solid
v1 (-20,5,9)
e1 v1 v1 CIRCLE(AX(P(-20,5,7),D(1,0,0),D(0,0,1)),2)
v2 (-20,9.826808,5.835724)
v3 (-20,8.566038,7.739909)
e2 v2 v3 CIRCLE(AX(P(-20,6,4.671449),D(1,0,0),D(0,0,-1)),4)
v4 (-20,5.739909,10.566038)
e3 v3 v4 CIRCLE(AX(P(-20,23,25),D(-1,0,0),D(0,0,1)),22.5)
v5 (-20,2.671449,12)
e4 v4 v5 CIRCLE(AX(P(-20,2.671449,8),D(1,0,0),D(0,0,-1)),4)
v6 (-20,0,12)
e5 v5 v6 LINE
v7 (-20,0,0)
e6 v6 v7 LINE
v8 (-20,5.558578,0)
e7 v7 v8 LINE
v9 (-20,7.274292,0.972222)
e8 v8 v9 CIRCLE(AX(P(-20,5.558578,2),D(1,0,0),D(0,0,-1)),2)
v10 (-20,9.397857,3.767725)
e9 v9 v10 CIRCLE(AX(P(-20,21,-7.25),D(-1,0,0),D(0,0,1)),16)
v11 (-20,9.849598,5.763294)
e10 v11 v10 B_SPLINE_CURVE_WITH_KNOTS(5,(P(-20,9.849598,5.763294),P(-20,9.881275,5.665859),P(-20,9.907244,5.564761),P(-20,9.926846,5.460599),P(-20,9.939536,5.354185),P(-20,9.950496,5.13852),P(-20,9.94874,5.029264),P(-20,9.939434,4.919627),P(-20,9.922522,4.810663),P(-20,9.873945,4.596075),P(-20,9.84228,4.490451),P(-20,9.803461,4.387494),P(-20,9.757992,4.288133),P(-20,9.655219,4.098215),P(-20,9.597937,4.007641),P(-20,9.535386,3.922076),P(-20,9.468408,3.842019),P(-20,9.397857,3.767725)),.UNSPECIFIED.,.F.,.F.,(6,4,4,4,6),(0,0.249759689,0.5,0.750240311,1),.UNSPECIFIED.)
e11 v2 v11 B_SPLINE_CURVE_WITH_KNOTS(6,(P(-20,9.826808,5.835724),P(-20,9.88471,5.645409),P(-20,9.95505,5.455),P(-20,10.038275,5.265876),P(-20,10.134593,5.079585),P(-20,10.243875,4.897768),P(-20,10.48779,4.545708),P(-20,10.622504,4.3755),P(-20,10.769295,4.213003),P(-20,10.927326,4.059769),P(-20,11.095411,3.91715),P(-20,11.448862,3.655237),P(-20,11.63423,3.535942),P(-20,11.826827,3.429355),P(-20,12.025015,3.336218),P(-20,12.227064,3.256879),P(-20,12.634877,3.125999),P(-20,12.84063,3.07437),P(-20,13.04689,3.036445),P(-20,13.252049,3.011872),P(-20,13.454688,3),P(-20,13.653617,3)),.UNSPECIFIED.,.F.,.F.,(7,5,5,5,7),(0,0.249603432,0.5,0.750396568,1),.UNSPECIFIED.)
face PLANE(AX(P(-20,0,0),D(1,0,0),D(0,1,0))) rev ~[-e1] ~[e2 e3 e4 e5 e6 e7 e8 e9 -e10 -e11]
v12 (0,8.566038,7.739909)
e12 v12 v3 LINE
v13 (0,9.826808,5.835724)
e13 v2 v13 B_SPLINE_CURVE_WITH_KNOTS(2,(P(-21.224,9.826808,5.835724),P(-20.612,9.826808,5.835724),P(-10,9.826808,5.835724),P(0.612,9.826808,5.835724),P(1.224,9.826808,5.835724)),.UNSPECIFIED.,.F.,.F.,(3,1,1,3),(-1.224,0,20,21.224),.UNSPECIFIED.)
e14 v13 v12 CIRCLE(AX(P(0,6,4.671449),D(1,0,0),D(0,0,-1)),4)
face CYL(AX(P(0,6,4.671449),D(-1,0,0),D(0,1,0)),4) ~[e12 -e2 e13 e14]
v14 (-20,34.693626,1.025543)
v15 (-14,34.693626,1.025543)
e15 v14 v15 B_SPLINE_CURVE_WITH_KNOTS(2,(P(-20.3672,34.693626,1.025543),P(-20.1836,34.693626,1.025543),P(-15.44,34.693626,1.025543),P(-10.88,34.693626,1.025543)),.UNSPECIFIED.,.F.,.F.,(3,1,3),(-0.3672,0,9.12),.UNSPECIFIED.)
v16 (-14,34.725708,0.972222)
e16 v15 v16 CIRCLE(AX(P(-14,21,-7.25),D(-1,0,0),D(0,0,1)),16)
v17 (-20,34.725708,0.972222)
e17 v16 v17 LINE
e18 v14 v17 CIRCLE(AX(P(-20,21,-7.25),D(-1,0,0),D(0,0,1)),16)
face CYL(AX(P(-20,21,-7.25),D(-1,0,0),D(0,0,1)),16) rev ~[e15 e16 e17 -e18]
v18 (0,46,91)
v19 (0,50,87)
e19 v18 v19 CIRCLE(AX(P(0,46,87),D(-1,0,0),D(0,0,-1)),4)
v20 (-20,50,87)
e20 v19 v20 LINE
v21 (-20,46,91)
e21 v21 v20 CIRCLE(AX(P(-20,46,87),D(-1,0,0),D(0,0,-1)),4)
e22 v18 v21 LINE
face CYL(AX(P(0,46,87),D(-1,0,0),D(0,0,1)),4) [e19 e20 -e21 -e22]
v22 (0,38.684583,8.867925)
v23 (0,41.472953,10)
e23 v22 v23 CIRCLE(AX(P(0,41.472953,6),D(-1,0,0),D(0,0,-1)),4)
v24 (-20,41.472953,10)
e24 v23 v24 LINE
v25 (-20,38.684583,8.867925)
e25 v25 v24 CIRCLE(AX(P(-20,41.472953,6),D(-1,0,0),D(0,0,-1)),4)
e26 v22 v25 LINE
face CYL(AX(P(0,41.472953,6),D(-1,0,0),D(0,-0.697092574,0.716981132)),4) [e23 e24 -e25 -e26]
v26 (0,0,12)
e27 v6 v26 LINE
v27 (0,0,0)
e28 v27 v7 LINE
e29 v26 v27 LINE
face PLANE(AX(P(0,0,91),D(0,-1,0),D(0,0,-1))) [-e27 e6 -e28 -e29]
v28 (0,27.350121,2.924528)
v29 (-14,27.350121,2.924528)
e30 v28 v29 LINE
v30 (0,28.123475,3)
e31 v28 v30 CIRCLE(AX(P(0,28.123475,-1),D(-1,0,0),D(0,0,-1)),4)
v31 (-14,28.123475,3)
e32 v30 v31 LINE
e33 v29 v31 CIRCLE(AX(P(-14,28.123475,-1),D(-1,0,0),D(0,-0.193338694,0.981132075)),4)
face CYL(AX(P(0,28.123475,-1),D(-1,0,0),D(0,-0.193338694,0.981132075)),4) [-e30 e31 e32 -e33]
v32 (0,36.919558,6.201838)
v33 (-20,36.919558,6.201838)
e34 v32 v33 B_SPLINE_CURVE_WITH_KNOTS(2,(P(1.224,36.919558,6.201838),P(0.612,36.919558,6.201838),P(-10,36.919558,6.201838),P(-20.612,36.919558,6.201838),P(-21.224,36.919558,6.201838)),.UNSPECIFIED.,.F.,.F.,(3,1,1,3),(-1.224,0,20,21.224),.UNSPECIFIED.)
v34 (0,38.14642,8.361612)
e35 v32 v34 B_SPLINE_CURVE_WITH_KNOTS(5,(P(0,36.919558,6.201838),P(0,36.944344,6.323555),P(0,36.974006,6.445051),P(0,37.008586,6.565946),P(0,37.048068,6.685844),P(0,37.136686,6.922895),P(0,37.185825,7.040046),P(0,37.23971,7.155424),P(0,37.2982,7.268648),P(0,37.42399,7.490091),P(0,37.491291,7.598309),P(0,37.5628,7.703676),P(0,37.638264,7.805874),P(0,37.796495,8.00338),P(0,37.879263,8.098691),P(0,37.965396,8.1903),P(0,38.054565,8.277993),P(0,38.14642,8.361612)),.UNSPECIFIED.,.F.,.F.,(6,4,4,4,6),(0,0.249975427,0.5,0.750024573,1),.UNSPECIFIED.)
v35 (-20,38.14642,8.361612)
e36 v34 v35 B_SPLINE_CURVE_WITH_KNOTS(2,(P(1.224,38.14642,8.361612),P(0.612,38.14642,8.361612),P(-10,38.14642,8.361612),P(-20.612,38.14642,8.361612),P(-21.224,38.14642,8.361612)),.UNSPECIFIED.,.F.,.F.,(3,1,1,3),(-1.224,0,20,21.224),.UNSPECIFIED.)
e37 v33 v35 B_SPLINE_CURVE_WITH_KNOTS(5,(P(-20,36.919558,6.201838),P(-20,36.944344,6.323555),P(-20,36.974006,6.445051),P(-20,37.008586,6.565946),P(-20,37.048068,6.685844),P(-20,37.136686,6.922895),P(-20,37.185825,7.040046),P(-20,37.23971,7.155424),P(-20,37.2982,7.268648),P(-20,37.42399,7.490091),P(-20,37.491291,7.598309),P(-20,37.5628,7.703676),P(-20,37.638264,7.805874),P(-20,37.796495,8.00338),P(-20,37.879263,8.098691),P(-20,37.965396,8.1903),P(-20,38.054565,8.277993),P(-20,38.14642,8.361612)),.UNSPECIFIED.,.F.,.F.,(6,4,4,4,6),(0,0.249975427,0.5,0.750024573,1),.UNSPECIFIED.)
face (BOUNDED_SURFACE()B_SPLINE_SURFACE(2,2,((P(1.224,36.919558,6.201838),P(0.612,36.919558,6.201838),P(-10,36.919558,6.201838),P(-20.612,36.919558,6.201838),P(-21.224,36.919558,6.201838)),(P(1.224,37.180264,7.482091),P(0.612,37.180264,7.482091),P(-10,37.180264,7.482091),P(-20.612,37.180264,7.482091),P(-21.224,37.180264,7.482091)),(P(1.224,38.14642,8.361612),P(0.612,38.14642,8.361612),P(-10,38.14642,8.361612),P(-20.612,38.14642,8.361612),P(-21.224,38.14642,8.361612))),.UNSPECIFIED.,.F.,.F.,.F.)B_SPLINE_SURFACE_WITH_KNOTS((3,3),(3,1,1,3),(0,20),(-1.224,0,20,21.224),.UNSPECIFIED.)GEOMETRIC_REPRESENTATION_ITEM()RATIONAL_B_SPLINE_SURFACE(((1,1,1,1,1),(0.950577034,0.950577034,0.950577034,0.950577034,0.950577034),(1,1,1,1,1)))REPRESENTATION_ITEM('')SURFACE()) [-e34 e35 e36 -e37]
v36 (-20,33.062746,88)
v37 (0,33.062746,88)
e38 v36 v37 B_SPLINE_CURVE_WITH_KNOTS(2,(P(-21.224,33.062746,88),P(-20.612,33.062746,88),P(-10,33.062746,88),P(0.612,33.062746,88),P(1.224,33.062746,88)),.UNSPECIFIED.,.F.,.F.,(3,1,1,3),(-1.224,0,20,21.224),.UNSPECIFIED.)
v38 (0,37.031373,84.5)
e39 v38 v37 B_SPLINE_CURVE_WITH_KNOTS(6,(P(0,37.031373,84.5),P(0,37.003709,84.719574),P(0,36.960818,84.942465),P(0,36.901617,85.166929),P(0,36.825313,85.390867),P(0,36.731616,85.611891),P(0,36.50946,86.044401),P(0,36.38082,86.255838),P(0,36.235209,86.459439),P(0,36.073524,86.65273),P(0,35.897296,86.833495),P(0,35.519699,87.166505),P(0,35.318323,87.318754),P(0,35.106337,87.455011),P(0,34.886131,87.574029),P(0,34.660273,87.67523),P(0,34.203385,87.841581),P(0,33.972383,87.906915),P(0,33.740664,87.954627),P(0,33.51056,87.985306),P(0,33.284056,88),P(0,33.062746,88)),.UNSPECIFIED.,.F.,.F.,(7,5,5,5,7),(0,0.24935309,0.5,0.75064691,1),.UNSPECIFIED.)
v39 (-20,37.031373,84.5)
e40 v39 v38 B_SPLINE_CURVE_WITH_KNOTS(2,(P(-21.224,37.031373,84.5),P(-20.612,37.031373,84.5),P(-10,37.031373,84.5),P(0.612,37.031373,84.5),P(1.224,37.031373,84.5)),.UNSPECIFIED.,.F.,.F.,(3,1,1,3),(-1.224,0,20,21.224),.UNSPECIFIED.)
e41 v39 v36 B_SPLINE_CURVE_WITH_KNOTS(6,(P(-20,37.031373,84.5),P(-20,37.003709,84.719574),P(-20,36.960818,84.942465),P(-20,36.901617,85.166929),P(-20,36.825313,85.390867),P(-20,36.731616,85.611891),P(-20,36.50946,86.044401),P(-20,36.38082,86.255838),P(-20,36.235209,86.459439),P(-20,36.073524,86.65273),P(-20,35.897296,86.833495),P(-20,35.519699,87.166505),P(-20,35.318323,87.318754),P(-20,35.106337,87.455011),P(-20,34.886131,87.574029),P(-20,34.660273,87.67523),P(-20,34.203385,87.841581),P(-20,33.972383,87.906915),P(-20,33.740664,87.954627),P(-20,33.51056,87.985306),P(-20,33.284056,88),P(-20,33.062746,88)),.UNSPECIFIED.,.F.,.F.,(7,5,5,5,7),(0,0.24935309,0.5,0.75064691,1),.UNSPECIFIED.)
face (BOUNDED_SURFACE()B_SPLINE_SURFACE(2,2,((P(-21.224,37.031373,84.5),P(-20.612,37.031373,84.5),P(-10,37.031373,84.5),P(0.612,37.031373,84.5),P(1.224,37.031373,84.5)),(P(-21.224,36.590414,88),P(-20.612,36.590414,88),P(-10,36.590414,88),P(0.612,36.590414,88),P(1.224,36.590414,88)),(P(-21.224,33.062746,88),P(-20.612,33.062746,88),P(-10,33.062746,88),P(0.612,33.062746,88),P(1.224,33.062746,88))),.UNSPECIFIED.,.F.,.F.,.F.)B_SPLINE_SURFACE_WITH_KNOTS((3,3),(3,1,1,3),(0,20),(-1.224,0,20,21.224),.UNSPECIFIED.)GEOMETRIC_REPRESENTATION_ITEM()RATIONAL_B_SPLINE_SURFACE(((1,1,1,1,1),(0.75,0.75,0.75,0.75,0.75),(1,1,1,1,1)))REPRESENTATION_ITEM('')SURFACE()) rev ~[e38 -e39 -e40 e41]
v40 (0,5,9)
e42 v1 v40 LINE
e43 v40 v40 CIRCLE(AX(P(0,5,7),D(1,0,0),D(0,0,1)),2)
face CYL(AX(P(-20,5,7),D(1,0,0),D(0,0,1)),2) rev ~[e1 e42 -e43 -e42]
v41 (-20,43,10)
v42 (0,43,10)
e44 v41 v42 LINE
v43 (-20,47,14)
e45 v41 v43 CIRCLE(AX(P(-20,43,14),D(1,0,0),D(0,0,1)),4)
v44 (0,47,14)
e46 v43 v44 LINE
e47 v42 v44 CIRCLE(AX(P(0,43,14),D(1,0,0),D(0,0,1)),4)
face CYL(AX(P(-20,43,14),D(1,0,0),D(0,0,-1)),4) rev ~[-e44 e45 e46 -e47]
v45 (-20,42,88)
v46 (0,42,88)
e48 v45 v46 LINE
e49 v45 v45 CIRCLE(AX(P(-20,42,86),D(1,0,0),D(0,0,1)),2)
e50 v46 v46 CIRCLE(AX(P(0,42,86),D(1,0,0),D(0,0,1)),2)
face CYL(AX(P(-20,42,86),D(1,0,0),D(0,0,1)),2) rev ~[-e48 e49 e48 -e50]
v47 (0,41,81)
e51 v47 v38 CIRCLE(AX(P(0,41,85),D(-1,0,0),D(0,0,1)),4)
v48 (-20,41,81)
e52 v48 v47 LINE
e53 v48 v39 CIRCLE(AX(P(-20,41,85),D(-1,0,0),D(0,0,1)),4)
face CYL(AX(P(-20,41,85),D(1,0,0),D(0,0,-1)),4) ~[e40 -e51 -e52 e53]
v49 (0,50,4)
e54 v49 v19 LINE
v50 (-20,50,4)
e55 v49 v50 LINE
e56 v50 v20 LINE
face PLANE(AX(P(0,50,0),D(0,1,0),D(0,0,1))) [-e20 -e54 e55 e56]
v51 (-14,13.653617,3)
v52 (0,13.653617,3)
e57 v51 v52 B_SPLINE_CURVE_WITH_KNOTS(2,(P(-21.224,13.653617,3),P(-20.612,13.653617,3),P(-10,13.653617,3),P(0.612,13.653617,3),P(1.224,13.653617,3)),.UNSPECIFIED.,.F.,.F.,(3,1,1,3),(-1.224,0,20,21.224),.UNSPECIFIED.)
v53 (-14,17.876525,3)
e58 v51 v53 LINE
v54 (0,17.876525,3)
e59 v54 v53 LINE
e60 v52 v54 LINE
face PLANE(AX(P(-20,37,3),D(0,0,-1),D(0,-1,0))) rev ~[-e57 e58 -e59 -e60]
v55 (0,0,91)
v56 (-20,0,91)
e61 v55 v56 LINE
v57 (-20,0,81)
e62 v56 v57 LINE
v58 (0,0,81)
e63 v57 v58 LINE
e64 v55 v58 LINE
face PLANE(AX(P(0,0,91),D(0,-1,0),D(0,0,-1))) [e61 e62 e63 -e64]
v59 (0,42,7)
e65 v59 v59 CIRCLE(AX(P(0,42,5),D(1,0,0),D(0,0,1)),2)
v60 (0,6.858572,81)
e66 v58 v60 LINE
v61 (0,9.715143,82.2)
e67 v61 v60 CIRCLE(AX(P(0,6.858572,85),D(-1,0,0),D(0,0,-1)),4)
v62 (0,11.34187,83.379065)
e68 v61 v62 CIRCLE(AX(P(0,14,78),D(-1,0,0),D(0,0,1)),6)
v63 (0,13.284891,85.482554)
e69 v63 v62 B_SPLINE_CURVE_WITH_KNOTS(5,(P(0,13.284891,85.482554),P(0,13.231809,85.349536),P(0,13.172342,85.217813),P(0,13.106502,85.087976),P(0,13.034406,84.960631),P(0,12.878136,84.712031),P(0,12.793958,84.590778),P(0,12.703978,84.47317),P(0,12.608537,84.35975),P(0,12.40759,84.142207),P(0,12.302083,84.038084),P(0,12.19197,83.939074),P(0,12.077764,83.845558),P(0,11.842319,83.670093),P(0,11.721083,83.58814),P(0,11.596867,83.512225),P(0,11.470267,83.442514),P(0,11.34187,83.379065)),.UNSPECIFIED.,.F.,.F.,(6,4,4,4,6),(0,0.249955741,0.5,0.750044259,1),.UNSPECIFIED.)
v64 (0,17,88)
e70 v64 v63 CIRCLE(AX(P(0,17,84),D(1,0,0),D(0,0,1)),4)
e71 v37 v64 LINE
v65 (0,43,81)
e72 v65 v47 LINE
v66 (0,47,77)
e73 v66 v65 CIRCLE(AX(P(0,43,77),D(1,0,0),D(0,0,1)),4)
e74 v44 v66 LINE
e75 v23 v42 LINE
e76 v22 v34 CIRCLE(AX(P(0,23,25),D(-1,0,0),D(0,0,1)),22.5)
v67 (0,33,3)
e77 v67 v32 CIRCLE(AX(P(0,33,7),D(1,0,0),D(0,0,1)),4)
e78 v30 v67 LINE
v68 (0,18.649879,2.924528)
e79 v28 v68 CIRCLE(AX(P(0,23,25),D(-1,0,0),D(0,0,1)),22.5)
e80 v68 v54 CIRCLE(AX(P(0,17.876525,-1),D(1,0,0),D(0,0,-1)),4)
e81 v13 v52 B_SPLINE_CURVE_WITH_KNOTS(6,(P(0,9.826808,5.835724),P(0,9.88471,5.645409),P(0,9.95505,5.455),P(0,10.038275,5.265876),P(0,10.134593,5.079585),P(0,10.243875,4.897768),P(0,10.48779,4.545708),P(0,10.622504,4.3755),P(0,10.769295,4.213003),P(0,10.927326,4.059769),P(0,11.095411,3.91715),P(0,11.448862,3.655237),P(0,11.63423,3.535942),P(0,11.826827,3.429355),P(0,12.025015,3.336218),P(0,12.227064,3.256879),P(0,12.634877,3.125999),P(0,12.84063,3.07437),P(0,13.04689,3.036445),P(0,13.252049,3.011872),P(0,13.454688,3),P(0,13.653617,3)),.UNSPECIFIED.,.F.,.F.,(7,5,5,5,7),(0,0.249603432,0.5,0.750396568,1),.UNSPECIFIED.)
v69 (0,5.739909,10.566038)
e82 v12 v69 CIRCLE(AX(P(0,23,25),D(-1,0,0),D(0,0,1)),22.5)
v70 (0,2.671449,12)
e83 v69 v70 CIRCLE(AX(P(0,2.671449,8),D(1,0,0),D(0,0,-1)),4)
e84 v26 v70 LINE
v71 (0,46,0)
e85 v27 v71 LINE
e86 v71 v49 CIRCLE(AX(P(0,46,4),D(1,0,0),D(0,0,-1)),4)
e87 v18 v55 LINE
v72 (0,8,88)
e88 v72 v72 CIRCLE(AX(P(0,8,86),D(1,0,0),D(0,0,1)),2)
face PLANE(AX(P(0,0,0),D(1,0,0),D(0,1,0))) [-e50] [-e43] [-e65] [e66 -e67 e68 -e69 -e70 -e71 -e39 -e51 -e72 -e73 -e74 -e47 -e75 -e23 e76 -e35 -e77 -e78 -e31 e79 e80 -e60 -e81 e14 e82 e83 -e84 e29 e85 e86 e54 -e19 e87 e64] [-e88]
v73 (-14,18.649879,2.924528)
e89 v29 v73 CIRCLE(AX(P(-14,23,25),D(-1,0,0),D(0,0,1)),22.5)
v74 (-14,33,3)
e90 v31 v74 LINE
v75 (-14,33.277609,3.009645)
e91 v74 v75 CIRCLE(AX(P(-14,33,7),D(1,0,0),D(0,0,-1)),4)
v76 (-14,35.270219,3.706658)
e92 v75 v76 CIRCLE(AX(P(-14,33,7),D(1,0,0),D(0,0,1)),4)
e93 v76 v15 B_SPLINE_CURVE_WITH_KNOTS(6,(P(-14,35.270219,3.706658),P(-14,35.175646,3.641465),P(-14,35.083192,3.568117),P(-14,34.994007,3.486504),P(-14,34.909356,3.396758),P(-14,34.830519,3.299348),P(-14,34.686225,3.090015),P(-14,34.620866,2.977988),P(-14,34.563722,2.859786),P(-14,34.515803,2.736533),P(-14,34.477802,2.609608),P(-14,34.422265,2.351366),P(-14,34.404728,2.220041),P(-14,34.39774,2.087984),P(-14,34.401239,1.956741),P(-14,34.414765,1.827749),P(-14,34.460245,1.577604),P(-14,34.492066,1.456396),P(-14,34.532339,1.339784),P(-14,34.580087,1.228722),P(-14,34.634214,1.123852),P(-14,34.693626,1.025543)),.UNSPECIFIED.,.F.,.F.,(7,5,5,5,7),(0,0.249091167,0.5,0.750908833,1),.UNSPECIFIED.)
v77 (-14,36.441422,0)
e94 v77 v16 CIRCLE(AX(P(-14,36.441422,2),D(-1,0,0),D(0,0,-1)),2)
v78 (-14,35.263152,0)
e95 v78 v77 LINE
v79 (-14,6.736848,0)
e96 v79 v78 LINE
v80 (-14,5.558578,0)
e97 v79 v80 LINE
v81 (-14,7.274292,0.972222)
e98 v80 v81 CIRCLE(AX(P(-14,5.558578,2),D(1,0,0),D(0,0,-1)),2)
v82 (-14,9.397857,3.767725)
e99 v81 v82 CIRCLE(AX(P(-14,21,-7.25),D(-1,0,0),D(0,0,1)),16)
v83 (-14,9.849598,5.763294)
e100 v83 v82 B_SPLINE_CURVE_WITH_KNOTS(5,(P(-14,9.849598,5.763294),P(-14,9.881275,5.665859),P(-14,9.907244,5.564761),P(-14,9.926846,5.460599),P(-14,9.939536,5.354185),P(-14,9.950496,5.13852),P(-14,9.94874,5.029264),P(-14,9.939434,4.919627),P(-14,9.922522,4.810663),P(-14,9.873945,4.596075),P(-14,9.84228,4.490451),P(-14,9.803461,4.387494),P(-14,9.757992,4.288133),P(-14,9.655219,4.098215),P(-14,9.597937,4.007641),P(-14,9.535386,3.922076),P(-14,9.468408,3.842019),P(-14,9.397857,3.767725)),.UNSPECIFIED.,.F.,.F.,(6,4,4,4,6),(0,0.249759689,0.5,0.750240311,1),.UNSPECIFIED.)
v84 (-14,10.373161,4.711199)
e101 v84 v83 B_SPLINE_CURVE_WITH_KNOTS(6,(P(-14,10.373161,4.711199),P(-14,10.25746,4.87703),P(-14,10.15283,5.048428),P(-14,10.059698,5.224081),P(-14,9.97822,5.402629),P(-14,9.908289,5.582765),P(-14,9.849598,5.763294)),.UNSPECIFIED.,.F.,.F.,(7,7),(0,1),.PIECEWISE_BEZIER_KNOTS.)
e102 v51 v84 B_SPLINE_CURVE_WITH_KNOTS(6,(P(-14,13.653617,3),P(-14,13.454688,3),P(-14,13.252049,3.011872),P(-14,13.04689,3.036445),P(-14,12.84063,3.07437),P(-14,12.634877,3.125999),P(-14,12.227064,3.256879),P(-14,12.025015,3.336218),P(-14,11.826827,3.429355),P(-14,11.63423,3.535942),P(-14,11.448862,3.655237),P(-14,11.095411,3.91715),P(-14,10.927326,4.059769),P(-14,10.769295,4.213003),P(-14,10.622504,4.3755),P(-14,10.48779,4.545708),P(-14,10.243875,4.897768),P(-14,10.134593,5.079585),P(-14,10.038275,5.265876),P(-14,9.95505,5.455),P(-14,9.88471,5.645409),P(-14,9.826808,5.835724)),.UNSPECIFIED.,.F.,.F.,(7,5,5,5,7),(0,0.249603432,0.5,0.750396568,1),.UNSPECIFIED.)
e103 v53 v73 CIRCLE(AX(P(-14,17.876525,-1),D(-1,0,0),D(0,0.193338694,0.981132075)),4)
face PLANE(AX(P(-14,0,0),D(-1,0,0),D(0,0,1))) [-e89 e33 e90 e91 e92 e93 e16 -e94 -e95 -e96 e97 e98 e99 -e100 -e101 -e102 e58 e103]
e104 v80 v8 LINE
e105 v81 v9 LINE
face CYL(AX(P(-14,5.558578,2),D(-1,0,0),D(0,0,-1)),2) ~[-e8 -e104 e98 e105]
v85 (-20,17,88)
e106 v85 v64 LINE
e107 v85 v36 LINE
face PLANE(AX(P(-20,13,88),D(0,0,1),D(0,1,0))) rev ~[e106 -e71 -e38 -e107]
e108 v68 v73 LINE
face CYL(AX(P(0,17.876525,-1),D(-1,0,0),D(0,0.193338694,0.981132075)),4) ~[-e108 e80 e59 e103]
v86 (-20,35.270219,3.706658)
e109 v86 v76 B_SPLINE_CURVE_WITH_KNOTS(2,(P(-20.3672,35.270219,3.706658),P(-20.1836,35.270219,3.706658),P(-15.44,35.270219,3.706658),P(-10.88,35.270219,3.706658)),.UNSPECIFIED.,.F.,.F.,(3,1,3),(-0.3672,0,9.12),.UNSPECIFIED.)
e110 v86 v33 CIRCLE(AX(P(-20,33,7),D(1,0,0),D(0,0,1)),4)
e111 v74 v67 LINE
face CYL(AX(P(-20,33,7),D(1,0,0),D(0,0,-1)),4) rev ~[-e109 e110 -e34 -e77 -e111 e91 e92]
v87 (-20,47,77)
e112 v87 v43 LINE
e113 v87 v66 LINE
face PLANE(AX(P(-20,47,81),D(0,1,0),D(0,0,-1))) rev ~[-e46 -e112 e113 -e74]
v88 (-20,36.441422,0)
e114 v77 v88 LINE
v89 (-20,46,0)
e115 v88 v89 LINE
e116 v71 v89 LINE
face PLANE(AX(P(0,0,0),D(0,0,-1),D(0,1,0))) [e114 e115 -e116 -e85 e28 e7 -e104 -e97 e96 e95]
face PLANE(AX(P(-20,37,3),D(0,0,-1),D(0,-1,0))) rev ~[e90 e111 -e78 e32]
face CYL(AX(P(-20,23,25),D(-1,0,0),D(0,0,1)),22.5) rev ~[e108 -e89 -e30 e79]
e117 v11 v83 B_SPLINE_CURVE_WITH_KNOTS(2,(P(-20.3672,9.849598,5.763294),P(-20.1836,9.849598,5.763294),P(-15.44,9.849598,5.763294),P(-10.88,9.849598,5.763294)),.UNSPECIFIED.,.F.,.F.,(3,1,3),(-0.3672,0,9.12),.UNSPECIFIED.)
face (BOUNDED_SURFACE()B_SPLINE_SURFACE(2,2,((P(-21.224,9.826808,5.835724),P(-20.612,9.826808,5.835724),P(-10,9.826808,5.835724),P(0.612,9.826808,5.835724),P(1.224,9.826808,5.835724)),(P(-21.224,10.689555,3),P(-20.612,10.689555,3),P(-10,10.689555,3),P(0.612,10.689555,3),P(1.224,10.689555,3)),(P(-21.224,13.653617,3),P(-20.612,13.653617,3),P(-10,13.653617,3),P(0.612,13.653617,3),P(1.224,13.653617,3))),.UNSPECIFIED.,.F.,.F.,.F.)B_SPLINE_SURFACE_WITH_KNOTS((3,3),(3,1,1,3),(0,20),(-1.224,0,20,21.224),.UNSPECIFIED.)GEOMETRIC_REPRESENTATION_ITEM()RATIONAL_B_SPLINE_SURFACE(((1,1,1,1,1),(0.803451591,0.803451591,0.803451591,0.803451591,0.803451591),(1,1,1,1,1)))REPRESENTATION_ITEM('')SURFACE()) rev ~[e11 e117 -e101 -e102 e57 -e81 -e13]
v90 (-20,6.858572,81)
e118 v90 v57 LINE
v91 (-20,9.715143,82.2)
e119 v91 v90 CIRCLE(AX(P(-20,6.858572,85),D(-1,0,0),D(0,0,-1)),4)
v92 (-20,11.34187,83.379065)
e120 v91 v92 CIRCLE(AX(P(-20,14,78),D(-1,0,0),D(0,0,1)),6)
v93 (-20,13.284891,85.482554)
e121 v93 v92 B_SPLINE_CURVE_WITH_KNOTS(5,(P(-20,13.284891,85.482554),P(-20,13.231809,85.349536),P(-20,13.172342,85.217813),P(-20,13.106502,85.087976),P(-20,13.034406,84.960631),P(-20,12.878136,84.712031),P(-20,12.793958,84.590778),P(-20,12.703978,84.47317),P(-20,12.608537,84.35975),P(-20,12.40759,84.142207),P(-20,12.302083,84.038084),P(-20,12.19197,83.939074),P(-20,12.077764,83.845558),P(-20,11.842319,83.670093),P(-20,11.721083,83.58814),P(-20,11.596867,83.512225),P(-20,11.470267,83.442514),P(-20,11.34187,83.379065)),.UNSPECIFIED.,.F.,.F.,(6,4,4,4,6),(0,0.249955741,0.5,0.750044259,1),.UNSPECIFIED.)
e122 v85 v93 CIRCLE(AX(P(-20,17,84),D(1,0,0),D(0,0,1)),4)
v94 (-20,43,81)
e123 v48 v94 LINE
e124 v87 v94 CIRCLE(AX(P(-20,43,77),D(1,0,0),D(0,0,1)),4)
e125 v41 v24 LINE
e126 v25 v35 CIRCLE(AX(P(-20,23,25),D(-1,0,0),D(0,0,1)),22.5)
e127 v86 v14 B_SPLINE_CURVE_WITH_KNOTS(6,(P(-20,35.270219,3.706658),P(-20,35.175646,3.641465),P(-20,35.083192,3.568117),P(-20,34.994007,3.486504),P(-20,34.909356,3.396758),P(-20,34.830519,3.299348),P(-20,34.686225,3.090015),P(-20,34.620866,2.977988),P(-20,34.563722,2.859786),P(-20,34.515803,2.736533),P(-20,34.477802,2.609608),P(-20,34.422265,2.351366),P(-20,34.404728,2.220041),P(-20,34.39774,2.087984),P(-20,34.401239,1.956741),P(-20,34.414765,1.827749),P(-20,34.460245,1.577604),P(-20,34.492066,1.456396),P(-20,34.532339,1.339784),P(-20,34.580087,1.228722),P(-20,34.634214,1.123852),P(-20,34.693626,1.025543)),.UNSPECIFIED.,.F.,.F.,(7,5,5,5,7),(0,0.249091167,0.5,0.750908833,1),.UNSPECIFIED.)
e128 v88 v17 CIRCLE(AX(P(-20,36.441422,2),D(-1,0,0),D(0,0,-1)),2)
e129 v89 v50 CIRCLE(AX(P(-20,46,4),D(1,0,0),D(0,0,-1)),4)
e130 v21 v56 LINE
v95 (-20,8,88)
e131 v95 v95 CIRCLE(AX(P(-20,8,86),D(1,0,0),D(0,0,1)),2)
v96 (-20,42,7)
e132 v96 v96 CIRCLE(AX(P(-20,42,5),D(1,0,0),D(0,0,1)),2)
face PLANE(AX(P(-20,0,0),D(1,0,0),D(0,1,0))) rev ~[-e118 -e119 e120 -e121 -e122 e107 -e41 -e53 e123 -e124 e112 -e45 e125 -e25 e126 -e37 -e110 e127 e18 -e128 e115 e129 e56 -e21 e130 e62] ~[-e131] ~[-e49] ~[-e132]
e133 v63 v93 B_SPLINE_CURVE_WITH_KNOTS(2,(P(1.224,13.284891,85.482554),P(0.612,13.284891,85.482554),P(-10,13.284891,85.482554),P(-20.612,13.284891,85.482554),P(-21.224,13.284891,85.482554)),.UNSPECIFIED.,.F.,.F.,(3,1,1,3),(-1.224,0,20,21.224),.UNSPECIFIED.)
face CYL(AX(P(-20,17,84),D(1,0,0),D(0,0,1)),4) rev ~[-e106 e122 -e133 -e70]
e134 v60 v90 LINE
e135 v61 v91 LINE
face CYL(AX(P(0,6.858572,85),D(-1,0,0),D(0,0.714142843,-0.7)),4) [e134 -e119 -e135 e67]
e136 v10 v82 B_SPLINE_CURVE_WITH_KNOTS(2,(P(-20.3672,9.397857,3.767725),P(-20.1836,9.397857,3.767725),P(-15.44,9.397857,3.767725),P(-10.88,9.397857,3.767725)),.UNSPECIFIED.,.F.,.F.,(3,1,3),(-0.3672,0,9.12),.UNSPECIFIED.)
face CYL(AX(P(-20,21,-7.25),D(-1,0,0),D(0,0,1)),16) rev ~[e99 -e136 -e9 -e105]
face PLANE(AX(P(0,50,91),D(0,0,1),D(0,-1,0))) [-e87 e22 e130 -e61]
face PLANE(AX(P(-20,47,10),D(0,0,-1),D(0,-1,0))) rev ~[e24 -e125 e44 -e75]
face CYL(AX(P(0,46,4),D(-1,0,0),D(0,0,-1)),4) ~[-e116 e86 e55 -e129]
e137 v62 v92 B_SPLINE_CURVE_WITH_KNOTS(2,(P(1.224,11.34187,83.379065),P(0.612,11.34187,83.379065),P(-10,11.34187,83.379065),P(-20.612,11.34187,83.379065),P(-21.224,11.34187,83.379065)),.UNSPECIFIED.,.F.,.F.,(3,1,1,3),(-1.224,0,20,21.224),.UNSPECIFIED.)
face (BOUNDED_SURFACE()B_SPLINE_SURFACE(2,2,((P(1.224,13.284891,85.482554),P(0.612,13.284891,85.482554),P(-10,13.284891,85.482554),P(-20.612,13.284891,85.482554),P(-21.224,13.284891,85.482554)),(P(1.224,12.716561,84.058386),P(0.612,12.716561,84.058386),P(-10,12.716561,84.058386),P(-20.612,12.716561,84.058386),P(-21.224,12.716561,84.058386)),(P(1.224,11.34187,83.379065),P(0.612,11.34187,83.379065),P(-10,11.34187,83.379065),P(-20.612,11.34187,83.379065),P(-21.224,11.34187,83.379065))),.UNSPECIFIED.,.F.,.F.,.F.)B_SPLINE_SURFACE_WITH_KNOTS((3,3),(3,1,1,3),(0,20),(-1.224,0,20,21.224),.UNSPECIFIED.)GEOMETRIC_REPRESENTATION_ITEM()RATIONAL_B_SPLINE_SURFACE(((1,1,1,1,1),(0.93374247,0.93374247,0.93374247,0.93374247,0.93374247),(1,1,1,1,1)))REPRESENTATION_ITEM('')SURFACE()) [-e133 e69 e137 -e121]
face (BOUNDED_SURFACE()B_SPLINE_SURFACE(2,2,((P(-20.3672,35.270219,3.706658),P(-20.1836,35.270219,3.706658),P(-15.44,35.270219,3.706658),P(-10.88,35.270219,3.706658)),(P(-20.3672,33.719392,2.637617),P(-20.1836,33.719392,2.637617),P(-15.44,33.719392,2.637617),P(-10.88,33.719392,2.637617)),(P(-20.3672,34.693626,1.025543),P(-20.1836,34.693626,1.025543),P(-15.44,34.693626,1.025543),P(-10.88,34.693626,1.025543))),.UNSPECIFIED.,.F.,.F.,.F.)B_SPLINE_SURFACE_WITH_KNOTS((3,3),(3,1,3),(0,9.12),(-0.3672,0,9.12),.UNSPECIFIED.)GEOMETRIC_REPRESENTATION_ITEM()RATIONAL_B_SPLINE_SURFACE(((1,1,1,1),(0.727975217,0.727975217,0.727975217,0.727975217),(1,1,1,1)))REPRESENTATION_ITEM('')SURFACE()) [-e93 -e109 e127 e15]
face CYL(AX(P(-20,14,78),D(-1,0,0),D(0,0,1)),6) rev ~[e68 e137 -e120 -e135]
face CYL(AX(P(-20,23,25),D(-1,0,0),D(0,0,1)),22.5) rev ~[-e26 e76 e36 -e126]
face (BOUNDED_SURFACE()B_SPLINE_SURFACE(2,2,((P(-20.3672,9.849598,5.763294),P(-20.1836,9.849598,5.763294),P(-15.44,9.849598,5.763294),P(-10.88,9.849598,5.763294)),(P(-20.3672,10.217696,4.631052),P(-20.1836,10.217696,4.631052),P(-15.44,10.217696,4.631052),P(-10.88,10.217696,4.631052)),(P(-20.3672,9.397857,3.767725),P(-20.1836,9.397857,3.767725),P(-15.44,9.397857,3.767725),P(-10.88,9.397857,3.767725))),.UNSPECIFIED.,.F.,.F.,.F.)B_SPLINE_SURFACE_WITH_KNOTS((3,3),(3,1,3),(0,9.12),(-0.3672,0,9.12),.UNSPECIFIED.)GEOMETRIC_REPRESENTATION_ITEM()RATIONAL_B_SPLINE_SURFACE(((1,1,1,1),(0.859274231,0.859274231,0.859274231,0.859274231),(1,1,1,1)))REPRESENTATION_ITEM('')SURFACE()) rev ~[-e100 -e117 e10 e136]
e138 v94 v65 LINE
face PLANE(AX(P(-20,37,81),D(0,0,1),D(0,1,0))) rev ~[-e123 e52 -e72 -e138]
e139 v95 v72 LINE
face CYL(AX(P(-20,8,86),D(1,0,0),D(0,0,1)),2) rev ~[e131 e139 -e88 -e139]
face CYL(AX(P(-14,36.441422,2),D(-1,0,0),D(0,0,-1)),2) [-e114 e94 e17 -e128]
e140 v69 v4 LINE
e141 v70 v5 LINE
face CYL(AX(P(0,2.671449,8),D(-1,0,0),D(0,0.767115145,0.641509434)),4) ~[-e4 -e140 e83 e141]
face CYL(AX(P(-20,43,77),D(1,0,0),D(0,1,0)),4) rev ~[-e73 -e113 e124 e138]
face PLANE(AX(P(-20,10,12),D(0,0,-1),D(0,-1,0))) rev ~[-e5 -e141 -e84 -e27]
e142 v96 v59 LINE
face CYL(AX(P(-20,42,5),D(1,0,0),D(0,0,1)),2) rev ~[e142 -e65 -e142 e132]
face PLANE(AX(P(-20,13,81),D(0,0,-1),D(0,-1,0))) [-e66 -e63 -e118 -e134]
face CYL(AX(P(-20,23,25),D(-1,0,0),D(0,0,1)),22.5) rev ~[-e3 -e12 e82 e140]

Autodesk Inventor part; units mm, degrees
ref_plane "YZ Plane" through (0, 0, 0) normal (1, 0, 0) x (0, 1, 0)
ref_plane "XZ Plane" through (0, 0, 0) normal (0, 1, 0) x (-1, 0, 0)
ref_plane "XY Plane" through (0, 0, 0) normal (0, 0, 1) x (1, 0, 0)
sketch "Sketch2" plane through (0, 0, 0) normal (1, 0, 0) x (0, 1, 0)
  line L0 (0, 0) -> (50, 0)
  line L1 (50, 0) -> (50, 91)
  line L2 (50, 91) -> (0, 91)
  line L3 (0, 91) -> (0, 0)
  dimension "d39" = 50
  dimension "d40" = 91
extrude "Extrusion2" add sketch "Sketch2" against normal blind 20
sketch "Sketch3" plane through (-20, 0, 0) normal (-1, 0, 0) x (0, 0, 1)
  line L0 (0, 0) -> (91, 0) projected
  line L1 (0, 50) -> (0, 0) projected
  point P0 (7, 5)
  point P1 (5, 42)
  point P2 (86, 42)
  point P3 (86, 8)
  dimension "d43" = 8
  dimension "d44" = 86
  dimension "d45" = 42
  dimension "d46" = 5
  dimension "d47" = 7
  dimension "d48" = 5
hole "Hole1" at (-20, 5, 7) at (-20, 42, 5) at (-20, 42, 86) at (-20, 8, 86) direction (1, 0, 0) diameter 4 end through all
fillet "Fillet8" radius 4 2 edges at (-10, 50, 0) (-10, 50, 91)
sketch "Sketch4" plane through (-20, 0, 0) normal (-1, 0, 0) x (0, 0, 1)
  line L0 (91, 0) -> (0, 0) projected
  line L1 (12, 0) -> (81, 0)
  line L2 (81, 13) -> (81, 0)
  line L3 (81, 13) -> (88, 13)
  line L4 (88, 13) -> (88, 37)
  line L5 (88, 37) -> (81, 37)
  line L6 (81, 37) -> (81, 47)
  line L7 (81, 47) -> (10, 47)
  line L8 (10, 47) -> (10, 37)
  line L9 (10, 37) -> (3, 37)
  line L10 (3, 37) -> (3, 10)
  line L11 (0, 46) -> (0, 0) projected
  line L12 (3, 10) -> (12, 10)
  line L13 (12, 10) -> (12, 0)
  line L14 (0, 0) -> (91, 0) projected
  dimension "d57" = 3
  dimension "d58" = 88
  dimension "d59" = 47
  dimension "d60" = 10
  dimension "d61" = 37
  dimension "d62" = 81
  dimension "d63" = 13
  dimension "d67" = 12
  dimension "d68" = 10
extrude "Extrusion3" cut sketch "Sketch4" against normal through all
sketch "Sketch5" plane through (-20, 0, 0) normal (-1, 0, 0) x (0, 0, 1)
  circle A0 centre (25, 23) radius 22.5
  circle A1 centre (78, 14) radius 6
  point P0 (0, 0)
  dimension "d69" = 25
  dimension "d70" = 23
  dimension "d71" = 45
  dimension "d75" = 12
  dimension "d76" = 78
  dimension "d77" = 14
extrude "Extrusion4" cut sketch "Sketch5" against normal through all
fillet "Fillet9" radius 4 15 edges at (-10, 37, 3) (-10, 18.283, 3) (-10, 27.717, 3) (-10, 10, 3) (-10, 10, 6.6356) (-10, 4.6356, 12) (-10, 37, 7.3861) (-10, 39.7705, 10) (-10, 47, 10) (-10, 47, 81) (-10, 37, 81) (-10, 37, 88) (-10, 13, 88) (-10, 13, 83.9161) (-10, 8.8038, 81)
sketch "Sketch6" plane through (-20, 0, 0) normal (-1, 0, 0) x (0, 0, 1)
  circle A0 centre (-7.25, 21) radius 16
  point P0 (0, 0)
  dimension "d78" = 32
  dimension "d79" = 21
  dimension "d80" = 7.25
extrude "Extrusion5" cut sketch "Sketch6" against normal blind 6
fillet "Fillet10" radius 2 4 edges at (-17, 35.2632, 0) (-17, 6.7368, 0) (-17, 33.2776, 3.0096) (-17, 10.3732, 4.7112)
properties part number "One Motor Gearbox Cover"
